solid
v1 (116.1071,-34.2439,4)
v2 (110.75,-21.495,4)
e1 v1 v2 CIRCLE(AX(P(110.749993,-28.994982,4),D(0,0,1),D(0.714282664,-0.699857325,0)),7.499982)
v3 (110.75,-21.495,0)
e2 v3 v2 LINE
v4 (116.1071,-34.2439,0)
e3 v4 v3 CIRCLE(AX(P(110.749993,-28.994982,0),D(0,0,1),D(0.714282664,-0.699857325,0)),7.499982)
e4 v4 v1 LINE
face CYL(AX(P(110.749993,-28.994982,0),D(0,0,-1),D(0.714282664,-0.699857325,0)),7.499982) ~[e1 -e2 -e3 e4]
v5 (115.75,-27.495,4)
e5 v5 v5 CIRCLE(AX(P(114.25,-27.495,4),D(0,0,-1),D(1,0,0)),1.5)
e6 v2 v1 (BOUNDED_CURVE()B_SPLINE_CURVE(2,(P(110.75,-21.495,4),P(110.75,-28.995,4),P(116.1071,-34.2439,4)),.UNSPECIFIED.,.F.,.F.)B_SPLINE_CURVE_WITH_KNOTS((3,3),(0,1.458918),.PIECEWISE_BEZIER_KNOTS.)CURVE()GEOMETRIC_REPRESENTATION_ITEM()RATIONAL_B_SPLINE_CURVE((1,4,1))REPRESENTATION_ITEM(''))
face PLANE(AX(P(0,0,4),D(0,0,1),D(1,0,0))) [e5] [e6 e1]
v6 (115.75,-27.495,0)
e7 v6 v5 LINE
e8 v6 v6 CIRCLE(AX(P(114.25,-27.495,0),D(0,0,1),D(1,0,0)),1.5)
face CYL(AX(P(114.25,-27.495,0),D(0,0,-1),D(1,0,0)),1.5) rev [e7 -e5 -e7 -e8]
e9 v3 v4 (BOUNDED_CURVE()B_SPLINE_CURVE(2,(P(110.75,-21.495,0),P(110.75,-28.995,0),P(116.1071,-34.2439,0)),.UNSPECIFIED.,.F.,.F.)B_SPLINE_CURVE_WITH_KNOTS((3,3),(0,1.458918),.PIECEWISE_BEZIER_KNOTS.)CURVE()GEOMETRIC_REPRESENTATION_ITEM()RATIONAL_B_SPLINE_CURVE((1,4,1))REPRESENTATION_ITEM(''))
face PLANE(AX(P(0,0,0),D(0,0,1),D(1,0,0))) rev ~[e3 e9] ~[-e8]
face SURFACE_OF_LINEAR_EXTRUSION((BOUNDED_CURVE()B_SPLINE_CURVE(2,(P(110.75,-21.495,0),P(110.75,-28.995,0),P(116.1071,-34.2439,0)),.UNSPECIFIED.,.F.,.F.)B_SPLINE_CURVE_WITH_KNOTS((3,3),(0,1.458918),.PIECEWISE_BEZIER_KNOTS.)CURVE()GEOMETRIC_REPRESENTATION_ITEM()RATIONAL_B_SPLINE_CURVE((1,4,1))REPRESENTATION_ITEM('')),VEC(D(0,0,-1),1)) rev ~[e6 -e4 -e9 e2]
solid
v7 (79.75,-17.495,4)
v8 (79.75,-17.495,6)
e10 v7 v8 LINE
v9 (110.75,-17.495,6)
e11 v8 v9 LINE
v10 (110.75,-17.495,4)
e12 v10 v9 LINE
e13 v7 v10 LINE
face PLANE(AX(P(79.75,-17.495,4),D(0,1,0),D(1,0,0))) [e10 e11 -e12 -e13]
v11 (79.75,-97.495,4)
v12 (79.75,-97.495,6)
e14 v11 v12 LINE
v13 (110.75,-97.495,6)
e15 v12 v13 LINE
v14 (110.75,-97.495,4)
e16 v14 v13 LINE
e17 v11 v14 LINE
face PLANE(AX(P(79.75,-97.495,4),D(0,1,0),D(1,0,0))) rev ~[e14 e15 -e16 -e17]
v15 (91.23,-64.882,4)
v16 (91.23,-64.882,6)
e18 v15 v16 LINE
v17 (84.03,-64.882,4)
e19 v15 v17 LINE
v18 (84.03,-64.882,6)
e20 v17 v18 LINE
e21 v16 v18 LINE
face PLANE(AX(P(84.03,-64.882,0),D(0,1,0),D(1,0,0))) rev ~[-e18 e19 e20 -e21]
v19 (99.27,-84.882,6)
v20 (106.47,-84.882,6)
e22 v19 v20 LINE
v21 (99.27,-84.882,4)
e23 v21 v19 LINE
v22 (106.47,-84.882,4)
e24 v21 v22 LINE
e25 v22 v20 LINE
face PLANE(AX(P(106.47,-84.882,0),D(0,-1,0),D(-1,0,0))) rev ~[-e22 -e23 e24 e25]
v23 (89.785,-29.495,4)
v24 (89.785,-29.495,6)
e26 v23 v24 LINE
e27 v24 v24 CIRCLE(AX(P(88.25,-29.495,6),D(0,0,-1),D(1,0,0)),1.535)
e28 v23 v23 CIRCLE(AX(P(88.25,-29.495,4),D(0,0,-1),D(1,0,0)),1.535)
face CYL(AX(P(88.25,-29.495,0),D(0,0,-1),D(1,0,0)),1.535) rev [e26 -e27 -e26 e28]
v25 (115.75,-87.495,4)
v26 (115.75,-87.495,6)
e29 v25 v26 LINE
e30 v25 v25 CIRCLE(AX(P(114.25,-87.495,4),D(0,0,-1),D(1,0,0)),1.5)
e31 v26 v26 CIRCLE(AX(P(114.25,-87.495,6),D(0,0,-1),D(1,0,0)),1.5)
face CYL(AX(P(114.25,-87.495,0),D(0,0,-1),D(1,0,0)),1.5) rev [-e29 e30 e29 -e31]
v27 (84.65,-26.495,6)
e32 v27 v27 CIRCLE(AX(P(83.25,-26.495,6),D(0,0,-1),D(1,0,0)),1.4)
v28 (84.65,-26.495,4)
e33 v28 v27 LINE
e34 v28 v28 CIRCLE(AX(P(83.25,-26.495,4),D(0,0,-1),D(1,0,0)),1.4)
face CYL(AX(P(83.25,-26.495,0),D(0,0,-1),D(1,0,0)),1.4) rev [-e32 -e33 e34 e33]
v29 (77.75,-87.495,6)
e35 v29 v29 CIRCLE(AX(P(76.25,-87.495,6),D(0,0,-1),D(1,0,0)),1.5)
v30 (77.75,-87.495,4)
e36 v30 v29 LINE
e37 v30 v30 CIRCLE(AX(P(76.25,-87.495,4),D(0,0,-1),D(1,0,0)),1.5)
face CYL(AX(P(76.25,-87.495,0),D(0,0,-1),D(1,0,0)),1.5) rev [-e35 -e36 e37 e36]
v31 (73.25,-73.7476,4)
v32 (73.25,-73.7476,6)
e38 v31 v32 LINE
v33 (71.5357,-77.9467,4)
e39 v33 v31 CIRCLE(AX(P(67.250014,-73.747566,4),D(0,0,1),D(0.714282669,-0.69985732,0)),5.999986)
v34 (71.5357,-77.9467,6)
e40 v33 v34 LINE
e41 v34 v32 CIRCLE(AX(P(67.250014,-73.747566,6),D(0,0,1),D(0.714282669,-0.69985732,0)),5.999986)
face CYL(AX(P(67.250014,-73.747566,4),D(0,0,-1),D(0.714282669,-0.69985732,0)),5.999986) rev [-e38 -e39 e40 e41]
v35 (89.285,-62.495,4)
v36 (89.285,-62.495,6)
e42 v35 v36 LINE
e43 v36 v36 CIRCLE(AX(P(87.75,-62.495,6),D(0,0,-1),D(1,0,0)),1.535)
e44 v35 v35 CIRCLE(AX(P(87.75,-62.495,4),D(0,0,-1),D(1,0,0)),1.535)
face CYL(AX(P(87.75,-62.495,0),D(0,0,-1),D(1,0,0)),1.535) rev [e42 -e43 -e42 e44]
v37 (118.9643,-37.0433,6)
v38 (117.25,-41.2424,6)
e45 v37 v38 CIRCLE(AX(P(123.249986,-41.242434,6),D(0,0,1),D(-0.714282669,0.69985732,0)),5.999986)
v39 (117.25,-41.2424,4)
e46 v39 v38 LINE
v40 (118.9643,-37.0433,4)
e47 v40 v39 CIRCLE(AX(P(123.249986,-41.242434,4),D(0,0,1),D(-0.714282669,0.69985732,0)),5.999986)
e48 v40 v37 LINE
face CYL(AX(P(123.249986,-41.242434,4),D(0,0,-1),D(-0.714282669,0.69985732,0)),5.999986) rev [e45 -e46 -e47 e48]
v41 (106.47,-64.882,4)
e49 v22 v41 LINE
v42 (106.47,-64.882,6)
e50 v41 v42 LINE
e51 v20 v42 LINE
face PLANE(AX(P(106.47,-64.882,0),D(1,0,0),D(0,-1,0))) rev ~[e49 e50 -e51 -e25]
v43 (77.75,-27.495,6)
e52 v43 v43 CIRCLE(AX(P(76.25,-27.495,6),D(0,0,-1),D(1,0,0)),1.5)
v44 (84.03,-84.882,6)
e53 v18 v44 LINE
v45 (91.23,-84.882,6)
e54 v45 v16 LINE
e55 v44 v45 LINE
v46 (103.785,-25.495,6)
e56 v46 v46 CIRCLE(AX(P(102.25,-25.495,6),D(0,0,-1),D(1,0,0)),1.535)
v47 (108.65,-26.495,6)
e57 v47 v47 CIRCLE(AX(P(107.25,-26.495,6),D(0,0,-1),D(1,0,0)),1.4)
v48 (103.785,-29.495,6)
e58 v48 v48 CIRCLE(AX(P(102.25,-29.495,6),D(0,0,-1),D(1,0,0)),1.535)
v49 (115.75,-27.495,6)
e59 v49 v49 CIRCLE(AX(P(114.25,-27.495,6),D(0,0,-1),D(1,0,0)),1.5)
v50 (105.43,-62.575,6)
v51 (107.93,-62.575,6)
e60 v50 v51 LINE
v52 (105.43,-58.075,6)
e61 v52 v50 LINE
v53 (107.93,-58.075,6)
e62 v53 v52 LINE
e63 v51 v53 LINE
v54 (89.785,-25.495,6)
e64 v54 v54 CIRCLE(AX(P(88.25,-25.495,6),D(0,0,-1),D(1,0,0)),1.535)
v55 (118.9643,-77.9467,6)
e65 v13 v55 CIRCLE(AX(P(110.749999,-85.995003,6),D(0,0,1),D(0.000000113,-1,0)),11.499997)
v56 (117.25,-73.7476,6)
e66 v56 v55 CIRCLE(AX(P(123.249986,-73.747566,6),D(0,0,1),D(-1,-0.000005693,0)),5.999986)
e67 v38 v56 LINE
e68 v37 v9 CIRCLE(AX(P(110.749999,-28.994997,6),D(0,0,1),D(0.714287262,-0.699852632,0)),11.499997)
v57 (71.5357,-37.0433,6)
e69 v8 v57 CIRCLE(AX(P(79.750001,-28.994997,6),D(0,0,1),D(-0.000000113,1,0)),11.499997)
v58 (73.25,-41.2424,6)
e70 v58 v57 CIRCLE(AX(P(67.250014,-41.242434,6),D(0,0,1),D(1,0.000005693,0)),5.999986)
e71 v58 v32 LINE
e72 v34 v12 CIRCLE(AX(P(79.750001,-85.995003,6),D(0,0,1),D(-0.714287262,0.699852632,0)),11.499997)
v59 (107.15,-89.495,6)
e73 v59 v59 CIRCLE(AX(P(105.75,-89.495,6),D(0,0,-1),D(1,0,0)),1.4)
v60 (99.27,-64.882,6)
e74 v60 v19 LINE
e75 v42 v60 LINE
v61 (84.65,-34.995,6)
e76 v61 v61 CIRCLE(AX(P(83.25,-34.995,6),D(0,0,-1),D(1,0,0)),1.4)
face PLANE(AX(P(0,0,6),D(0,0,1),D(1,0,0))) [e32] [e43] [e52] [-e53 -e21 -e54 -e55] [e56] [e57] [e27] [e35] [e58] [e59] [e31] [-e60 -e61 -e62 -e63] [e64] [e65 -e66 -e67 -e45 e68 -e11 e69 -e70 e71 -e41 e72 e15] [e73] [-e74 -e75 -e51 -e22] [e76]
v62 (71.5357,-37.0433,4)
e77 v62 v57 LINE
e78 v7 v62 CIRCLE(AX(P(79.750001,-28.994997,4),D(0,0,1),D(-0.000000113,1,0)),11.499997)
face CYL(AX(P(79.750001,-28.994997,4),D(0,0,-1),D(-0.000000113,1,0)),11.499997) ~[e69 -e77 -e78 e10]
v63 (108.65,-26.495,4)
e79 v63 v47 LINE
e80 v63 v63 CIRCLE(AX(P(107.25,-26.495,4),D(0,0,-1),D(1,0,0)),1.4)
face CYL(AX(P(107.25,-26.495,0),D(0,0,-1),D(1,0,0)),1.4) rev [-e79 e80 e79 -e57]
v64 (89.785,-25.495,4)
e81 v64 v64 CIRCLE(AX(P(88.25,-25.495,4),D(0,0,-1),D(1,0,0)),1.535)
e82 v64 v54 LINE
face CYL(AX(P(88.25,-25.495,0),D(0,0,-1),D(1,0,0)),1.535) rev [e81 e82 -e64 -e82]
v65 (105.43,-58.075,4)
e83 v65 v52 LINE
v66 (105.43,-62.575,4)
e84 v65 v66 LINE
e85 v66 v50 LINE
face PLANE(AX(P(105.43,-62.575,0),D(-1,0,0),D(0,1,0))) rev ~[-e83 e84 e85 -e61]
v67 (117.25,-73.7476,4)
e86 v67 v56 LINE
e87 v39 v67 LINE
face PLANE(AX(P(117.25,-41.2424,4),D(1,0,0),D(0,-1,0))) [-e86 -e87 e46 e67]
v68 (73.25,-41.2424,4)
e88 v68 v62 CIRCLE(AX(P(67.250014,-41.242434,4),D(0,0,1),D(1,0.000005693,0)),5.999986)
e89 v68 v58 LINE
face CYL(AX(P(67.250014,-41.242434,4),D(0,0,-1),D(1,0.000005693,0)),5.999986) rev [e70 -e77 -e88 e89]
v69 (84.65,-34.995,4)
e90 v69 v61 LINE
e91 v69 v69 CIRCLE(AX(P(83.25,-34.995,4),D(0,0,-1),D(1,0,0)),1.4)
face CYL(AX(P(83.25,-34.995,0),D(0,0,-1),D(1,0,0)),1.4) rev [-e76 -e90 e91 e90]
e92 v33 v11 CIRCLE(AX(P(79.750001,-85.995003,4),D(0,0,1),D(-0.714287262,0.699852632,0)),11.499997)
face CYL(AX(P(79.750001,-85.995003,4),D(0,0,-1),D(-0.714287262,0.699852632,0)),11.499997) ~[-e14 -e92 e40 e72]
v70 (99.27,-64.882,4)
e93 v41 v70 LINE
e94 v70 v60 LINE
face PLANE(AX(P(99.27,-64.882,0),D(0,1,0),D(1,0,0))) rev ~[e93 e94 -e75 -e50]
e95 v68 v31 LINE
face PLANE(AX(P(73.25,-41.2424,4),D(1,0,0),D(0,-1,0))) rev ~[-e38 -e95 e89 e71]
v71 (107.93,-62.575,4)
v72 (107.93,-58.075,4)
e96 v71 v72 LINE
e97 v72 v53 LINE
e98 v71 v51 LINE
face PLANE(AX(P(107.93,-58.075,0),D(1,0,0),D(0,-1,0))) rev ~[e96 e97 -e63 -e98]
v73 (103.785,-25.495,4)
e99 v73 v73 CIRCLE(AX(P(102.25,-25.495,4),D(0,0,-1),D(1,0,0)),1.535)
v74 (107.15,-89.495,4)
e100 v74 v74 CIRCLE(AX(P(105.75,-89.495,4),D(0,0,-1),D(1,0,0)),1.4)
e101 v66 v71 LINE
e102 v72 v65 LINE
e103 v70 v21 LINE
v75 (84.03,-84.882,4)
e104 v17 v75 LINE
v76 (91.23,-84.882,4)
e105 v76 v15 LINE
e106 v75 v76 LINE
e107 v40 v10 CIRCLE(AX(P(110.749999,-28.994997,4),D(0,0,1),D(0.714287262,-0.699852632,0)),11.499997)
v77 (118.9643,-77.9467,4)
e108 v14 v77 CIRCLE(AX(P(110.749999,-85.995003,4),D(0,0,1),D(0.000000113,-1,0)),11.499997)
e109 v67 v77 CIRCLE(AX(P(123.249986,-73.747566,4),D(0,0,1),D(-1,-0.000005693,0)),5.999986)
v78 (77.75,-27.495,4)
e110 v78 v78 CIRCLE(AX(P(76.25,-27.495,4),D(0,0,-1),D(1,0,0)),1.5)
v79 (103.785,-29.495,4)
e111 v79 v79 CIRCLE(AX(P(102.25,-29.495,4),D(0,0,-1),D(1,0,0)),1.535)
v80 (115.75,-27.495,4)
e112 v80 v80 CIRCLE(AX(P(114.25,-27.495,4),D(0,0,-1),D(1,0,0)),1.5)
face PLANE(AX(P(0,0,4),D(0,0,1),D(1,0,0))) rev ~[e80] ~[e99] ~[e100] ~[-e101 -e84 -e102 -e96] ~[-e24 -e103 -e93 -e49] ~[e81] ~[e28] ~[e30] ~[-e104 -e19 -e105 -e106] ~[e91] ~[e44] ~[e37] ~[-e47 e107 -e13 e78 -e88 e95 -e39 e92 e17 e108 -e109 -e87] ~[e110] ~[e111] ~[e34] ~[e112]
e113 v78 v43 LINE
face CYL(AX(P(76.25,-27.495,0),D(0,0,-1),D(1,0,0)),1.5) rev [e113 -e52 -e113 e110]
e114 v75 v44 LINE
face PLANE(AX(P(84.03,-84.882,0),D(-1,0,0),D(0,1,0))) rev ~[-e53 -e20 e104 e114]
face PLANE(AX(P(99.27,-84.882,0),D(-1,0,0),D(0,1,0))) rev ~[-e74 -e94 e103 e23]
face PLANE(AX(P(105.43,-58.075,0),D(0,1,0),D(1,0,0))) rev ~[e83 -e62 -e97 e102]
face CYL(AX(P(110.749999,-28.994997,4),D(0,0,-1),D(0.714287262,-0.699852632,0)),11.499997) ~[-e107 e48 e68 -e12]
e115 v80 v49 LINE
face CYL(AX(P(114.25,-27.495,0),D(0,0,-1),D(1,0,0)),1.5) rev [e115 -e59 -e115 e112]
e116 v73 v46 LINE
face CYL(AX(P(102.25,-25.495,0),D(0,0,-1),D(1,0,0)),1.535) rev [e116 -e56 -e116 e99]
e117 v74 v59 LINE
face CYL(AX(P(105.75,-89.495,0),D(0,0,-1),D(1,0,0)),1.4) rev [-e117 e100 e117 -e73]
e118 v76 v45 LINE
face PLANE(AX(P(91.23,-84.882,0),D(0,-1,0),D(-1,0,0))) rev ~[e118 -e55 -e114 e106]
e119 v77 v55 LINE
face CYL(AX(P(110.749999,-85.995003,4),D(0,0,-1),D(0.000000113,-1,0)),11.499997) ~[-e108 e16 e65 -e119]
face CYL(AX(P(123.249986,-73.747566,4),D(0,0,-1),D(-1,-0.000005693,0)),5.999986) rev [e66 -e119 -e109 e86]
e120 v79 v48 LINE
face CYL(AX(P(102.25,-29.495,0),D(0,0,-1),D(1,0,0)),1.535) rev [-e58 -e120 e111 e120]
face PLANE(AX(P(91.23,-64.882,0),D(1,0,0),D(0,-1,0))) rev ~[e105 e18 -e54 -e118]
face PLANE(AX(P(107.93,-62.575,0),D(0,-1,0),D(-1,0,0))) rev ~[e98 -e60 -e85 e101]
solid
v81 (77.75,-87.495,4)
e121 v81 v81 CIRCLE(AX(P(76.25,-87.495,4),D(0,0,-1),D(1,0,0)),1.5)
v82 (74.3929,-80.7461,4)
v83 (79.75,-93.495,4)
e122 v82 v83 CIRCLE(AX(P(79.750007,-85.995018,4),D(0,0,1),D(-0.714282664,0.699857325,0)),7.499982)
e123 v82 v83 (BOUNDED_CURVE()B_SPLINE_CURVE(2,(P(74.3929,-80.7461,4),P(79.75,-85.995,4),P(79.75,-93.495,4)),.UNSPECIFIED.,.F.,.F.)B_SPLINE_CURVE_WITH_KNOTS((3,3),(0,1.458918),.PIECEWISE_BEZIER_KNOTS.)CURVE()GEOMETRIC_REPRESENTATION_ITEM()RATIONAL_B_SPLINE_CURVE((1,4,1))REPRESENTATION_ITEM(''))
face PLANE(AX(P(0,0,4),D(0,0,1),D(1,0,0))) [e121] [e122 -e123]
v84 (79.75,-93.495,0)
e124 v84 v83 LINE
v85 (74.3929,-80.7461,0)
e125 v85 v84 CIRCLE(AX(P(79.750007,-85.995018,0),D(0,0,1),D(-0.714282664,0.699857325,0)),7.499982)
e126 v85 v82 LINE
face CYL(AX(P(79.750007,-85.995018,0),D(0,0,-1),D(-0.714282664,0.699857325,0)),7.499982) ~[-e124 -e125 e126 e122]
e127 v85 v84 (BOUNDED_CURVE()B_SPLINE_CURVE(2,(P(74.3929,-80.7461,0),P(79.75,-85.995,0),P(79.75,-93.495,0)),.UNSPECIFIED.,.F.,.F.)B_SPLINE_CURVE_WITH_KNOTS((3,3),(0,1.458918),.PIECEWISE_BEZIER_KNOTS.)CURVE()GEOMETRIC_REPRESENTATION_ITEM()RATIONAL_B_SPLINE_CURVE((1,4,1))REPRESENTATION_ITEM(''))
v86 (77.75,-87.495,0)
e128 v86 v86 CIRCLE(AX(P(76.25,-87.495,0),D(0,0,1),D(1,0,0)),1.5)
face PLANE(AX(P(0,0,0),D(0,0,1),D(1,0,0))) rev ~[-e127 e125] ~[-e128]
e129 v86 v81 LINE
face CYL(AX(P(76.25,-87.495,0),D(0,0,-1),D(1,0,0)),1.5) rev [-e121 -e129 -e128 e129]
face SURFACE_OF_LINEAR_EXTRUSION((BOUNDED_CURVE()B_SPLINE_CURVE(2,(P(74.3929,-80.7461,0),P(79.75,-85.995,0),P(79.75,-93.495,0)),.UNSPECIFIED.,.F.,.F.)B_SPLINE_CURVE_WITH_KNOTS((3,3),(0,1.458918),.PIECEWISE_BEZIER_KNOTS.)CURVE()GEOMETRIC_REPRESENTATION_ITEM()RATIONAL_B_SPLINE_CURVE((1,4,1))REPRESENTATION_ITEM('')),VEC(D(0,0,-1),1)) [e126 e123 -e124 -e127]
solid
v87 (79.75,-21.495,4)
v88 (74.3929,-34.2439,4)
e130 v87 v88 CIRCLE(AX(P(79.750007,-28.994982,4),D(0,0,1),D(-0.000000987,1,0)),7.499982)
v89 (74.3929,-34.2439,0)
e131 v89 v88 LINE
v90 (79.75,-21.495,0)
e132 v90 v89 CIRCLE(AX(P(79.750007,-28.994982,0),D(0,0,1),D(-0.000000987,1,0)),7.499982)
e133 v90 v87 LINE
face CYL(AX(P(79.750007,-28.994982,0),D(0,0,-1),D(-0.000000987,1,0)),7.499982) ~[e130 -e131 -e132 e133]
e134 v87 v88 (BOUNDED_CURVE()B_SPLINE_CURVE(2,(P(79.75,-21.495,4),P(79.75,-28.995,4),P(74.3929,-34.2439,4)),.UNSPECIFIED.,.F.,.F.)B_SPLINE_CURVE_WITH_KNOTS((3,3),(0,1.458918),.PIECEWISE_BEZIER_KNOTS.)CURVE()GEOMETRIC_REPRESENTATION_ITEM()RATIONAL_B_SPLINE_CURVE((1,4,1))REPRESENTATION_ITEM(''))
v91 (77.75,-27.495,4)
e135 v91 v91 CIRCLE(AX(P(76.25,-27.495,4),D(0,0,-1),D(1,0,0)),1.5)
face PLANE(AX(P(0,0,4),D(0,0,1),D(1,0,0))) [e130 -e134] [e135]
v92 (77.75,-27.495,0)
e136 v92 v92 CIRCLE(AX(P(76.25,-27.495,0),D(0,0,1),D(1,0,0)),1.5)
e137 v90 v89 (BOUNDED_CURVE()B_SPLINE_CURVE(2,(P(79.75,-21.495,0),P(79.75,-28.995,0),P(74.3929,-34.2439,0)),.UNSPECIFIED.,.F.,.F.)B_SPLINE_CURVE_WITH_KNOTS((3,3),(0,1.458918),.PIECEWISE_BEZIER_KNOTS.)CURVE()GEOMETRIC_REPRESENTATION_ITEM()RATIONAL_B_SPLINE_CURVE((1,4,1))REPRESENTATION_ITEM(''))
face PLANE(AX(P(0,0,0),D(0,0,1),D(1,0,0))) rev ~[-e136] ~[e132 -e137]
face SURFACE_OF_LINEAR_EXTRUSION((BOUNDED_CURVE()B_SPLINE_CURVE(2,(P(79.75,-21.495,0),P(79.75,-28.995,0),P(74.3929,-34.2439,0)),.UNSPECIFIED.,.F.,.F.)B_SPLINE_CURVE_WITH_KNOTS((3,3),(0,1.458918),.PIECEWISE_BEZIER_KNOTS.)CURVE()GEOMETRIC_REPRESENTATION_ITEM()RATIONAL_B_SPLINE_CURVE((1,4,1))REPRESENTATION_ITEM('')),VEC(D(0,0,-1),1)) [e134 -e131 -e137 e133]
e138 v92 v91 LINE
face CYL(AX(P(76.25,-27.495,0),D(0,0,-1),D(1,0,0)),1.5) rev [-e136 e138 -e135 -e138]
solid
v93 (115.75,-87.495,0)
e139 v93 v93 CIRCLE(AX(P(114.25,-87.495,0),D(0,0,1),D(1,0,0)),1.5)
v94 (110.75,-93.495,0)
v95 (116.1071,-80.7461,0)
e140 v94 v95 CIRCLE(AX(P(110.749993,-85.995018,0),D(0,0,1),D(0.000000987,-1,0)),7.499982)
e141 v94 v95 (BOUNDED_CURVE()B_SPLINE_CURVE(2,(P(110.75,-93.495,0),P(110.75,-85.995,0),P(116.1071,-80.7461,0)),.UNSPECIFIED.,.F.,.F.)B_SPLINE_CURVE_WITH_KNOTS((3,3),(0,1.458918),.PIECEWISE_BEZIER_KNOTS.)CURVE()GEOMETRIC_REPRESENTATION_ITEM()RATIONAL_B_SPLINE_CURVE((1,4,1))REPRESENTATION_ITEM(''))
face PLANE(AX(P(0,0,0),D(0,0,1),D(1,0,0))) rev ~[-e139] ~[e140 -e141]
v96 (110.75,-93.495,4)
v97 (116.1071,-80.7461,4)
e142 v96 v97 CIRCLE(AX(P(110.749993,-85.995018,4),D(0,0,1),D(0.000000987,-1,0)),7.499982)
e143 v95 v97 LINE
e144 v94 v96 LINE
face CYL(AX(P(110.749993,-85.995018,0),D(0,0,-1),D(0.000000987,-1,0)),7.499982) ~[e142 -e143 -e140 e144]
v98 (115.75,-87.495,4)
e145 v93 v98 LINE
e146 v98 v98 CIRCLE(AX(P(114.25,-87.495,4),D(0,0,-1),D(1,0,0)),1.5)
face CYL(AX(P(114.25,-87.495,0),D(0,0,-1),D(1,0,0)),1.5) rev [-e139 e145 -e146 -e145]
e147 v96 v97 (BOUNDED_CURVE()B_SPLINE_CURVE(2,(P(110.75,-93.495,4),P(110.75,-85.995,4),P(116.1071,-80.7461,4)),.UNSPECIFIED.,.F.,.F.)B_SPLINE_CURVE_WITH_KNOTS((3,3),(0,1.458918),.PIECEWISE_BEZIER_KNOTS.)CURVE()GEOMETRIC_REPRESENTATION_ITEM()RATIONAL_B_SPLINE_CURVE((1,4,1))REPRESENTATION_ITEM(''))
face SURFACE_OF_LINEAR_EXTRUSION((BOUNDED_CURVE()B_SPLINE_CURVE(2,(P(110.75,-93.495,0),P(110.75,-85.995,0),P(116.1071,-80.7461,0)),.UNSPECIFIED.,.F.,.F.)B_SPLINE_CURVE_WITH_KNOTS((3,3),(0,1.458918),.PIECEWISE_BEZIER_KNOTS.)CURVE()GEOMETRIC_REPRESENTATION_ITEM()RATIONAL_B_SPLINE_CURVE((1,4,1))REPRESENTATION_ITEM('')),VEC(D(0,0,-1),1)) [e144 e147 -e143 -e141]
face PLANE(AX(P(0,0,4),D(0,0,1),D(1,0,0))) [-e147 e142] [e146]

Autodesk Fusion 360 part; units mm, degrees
sketch "drawing" plane through (0, 0, 0) normal (0, 0, 1) x (1, 0, 0)
  circle A0 centre (76.25, -27.495) radius 1.5
  circle A1 centre (114.25, -27.495) radius 1.5
  circle A2 centre (76.25, -87.495) radius 1.5
  circle A3 centre (114.25, -87.495) radius 1.5
  line L0 (79.75, -21.495) -> (110.75, -21.495)
  line L1 (79.75, -93.495) -> (110.75, -93.495)
  line L2 (77.25, -41.2424) -> (77.25, -73.7476)
  line L3 (113.25, -41.2424) -> (113.25, -73.7476)
  arc A4 (79.75, -21.495) -> (74.3929, -34.2439) centre (79.75, -28.995) ccw
  arc A5 (116.1071, -34.2439) -> (110.75, -21.495) centre (110.75, -28.995) ccw
  arc A6 (74.3929, -80.7461) -> (79.75, -93.495) centre (79.75, -85.995) ccw
  arc A7 (110.75, -93.495) -> (116.1071, -80.7461) centre (110.75, -85.995) ccw
  circle A8 centre (76.25, -27.495) radius 3
  circle A9 centre (114.25, -27.495) radius 3
  circle A10 centre (76.25, -87.495) radius 3
  circle A11 centre (114.25, -87.495) radius 3
  line L4 (72.25, -21.495) -> (72.25, -93.495) construction
  line L5 (118.25, -21.495) -> (118.25, -93.495) construction
  circle A12 centre (88.25, -25.495) radius 1.535
  circle A13 centre (88.25, -29.495) radius 1.535
  circle A14 centre (83.25, -26.495) radius 1.4
  circle A15 centre (83.25, -34.995) radius 1.4
  line L6 (95.25, -21.495) -> (95.25, -93.495) construction
  line L7 (90.75, -21.495) -> (99.75, -21.495) construction
  line L8 (99.75, -21.495) -> (99.75, -28.995) construction
  line L9 (99.75, -28.995) -> (90.75, -28.995) construction
  line L10 (90.75, -28.995) -> (90.75, -21.495) construction
  circle A16 centre (106.68, -60.325) radius 0.25 construction
  line L11 (104.93, -55.8) -> (108.43, -55.8) construction
  line L12 (108.43, -55.8) -> (108.43, -64.85) construction
  line L13 (108.43, -64.85) -> (104.93, -64.85) construction
  line L14 (104.93, -64.85) -> (104.93, -55.8) construction
  arc A17 (77.25, -41.2424) -> (74.3929, -34.2439) centre (67.25, -41.2424) ccw
  line L15 (79.75, -28.995) -> (79.75, -21.495) construction
  line L16 (79.75, -28.995) -> (74.3929, -34.2439) construction
  line L17 (67.25, -41.2424) -> (77.25, -41.2424) construction
  line L18 (67.25, -41.2424) -> (74.3929, -34.2439) construction
  arc A18 (116.1071, -34.2439) -> (113.25, -41.2424) centre (123.25, -41.2424) ccw
  arc A19 (74.3929, -80.7461) -> (77.25, -73.7476) centre (67.25, -73.7476) ccw
  arc A20 (113.25, -73.7476) -> (116.1071, -80.7461) centre (123.25, -73.7476) ccw
  circle A21 centre (102.25, -25.495) radius 1.535
  circle A22 centre (102.25, -29.495) radius 1.535
  circle A23 centre (87.75, -62.495) radius 1.535
  line L19 (105.43, -58.075) -> (107.93, -58.075)
  line L20 (107.93, -58.075) -> (107.93, -62.575)
  line L21 (107.93, -62.575) -> (105.43, -62.575)
  line L22 (105.43, -62.575) -> (105.43, -58.075)
  line L23 (105.93, -60.575) -> (107.43, -60.575) construction
  line L24 (107.43, -60.575) -> (107.43, -62.075) construction
  line L25 (107.43, -62.075) -> (105.93, -62.075) construction
  line L26 (105.93, -62.075) -> (105.93, -60.575) construction
  line L27 (105.93, -58.575) -> (107.43, -58.575) construction
  line L28 (107.43, -58.575) -> (107.43, -60.075) construction
  line L29 (107.43, -60.075) -> (105.93, -60.075) construction
  line L30 (105.93, -60.075) -> (105.93, -58.575) construction
  line L31 (106.68, -60.075) -> (106.68, -60.575) construction
  line L32 (81, -24.245) -> (85.5, -24.245) construction
  line L33 (85.5, -24.245) -> (85.5, -28.745) construction
  line L34 (85.5, -28.745) -> (81, -28.745) construction
  line L35 (81, -28.745) -> (81, -24.245) construction
  circle A24 centre (88.25, -25.495) radius 1.9 construction
  circle A25 centre (88.25, -29.495) radius 1.9 construction
  circle A26 centre (102.25, -25.495) radius 1.9 construction
  circle A27 centre (102.25, -29.495) radius 1.9 construction
  circle A28 centre (87.75, -62.495) radius 1.9 construction
  line L36 (81, -32.745) -> (85.5, -32.745) construction
  line L37 (85.5, -32.745) -> (85.5, -37.245) construction
  line L38 (85.5, -37.245) -> (81, -37.245) construction
  line L39 (81, -37.245) -> (81, -32.745) construction
  circle A29 centre (107.25, -26.495) radius 1.4
  line L40 (105, -24.245) -> (109.5, -24.245) construction
  line L41 (109.5, -24.245) -> (109.5, -28.745) construction
  line L42 (109.5, -28.745) -> (105, -28.745) construction
  line L43 (105, -28.745) -> (105, -24.245) construction
  circle A30 centre (105.75, -89.495) radius 1.4
  line L44 (103.5, -87.245) -> (108, -87.245) construction
  line L45 (108, -87.245) -> (108, -91.745) construction
  line L46 (108, -91.745) -> (103.5, -91.745) construction
  line L47 (103.5, -91.745) -> (103.5, -87.245) construction
  line L48 (85.03, -65.882) -> (90.23, -65.882) construction
  line L49 (90.23, -65.882) -> (90.23, -83.882) construction
  line L50 (90.23, -83.882) -> (85.03, -83.882) construction
  line L51 (85.03, -83.882) -> (85.03, -65.882) construction
  line L52 (100.27, -65.882) -> (105.47, -65.882) construction
  line L53 (105.47, -65.882) -> (105.47, -83.882) construction
  line L54 (105.47, -83.882) -> (100.27, -83.882) construction
  line L55 (100.27, -83.882) -> (100.27, -65.882) construction
  line L56 (91.23, -64.882) -> (91.23, -84.882)
  line L57 (91.23, -84.882) -> (84.03, -84.882)
  line L58 (84.03, -84.882) -> (84.03, -64.882)
  line L59 (84.03, -64.882) -> (91.23, -64.882)
  line L60 (106.47, -84.882) -> (99.27, -84.882)
  line L61 (99.27, -84.882) -> (99.27, -64.882)
  line L62 (99.27, -64.882) -> (106.47, -64.882)
  line L63 (106.47, -64.882) -> (106.47, -84.882)
  point P0 (87.63, -74.882)
  point P1 (102.87, -74.882)
  dimension "d1" = 76.25
  dimension "d2" = 3
  dimension "d3" = 27.495
  dimension "d4" = 3
  dimension "d5" = 38
  dimension "d6" = 27.495
  dimension "d7" = 1.5
  dimension "d8" = 3.5
  dimension "d9" = 15
  dimension "d10" = 3.5
  dimension "d11" = 1.5
  dimension "d12" = 15
  dimension "d13" = 60
  dimension "d14" = 3
  dimension "d15" = 76.25
  dimension "d16" = 38
  dimension "d17" = 60
  dimension "d18" = 3
  dimension "d19" = 3.5
  dimension "d20" = 1.5
  dimension "d21" = 3.5
  dimension "d22" = 1.5
  dimension "d23" = 15
  dimension "d24" = 15
  dimension "d31" = 6
  dimension "d32" = 6
  dimension "d33" = 6
  dimension "d34" = 6
  dimension "d35" = 72
  dimension "d36" = 46
  dimension "d37" = 6
  dimension "d38" = 5
  dimension "d39" = 5
  dimension "d40" = 4
  dimension "d41" = 4
  dimension "d42" = 12
  dimension "d43" = 2
  dimension "d44" = 3.07
  dimension "d45" = 4
  dimension "d46" = 3.07
  dimension "d47" = 7
  dimension "d48" = 1
  dimension "d49" = 2.8
  dimension "d50" = 2.8
  dimension "d51" = 8.5
  dimension "d52" = 19
  dimension "d53" = 4.5
  dimension "d54" = 4.5
  dimension "d55" = 7.5
  dimension "d56" = 106.68
  dimension "d57" = 60.325
  dimension "d58" = 0.5
  dimension "d59" = 4.525
  dimension "d62" = 1.75
  dimension "d75" = 20
  dimension "d76" = 134.415
  dimension "d77" = 44.415
  dimension "d78" = 20
  dimension "d79" = 20
  dimension "d80" = 20
  dimension "d92" = 3.07
  dimension "d93" = 3.07
  dimension "d94" = 14
  dimension "d95" = 3.07
  dimension "d96" = 33
  dimension "d97" = 0.5
  dimension "d98" = 1.25
  dimension "d100" = 1.5
  dimension "d101" = 0.75
  dimension "d102" = 1.5
  dimension "d103" = 0.75
  dimension "d104" = 3.5
  dimension "d105" = 0.5
  dimension "d106" = 1.5
  dimension "d107" = 3.5
  dimension "d108" = 9.05
  dimension "d109" = 2.25
  dimension "d110" = 2.25
  dimension "d111" = 2.5
  dimension "d112" = 0.5
  dimension "d113" = 0.5
  dimension "d114" = 2.25
  dimension "d115" = 4.5
  dimension "d116" = 4.5
  dimension "d117" = 2.25
  dimension "d118" = 3.8
  dimension "d119" = 3.8
  dimension "d120" = 3.8
  dimension "d121" = 3.8
  dimension "d122" = 3.8
  dimension "d123" = 4.5
  dimension "d124" = 4.5
  dimension "d125" = 2.25
  dimension "d126" = 2.25
  dimension "d127" = 5
  dimension "d128" = 2.8
  dimension "d129" = 2.25
  dimension "d130" = 2.25
  dimension "d131" = 4.5
  dimension "d132" = 4.5
  dimension "d133" = 105.75
  dimension "d134" = 89.495
  dimension "d135" = 2.8
  dimension "d136" = 4.5
  dimension "d137" = 4.5
  dimension "d138" = 2.25
  dimension "d139" = 2.25
  dimension "d140" = 4
  dimension "d141" = 12.5
  dimension "d142" = 18
  dimension "d143" = 18
  dimension "d144" = 5.2
  dimension "d145" = 5.2
  dimension "d146" = 102.87
  dimension "d147" = 87.63
  dimension "d148" = 74.882
  dimension "d149" = 2.6
  dimension "d150" = 2.6
  dimension "d151" = 9
  dimension "d152" = 9
  dimension "d153" = -1
  dimension "d154" = -1
sketch "board_cutout" plane through (0, 0, 0) normal (0, 0, 1) x (1, 0, 0)
  circle A0 centre (76.25, -27.495) radius 1.5
  circle A1 centre (114.25, -27.495) radius 1.5
  circle A2 centre (76.25, -87.495) radius 1.5
  circle A3 centre (114.25, -87.495) radius 1.5
  line L0 (79.75, -21.495) -> (110.75, -21.495)
  arc A4 (79.75, -21.495) -> (74.3929, -34.2439) centre (79.75, -28.995) ccw
  arc A5 (77.25, -41.2424) -> (74.3929, -34.2439) centre (67.25, -41.2424) ccw
  line L1 (77.25, -41.2424) -> (77.25, -73.7476)
  arc A6 (74.3929, -80.7461) -> (77.25, -73.7476) centre (67.25, -73.7476) ccw
  arc A7 (74.3929, -80.7461) -> (79.75, -93.495) centre (79.75, -85.995) ccw
  line L2 (79.75, -93.495) -> (110.75, -93.495)
  arc A8 (110.75, -93.495) -> (116.1071, -80.7461) centre (110.75, -85.995) ccw
  arc A9 (113.25, -73.7476) -> (116.1071, -80.7461) centre (123.25, -73.7476) ccw
  line L3 (113.25, -41.2424) -> (113.25, -73.7476)
  arc A10 (116.1071, -34.2439) -> (113.25, -41.2424) centre (123.25, -41.2424) ccw
  arc A11 (116.1071, -34.2439) -> (110.75, -21.495) centre (110.75, -28.995) ccw
sketch "board_cutout_4mm_offset" plane through (0, 0, 0) normal (0, 0, 1) x (1, 0, 0)
  line L0 (79.75, -21.495) -> (110.75, -21.495) construction
  arc A0 (79.75, -21.495) -> (74.3929, -34.2439) centre (79.75, -28.995) ccw construction
  arc A1 (77.25, -41.2424) -> (74.3929, -34.2439) centre (67.25, -41.2424) ccw construction
  line L1 (77.25, -41.2424) -> (77.25, -73.7476) construction
  arc A2 (74.3929, -80.7461) -> (77.25, -73.7476) centre (67.25, -73.7476) ccw construction
  arc A3 (74.3929, -80.7461) -> (79.75, -93.495) centre (79.75, -85.995) ccw construction
  line L2 (79.75, -93.495) -> (110.75, -93.495) construction
  arc A4 (110.75, -93.495) -> (116.1071, -80.7461) centre (110.75, -85.995) ccw construction
  arc A5 (113.25, -73.7476) -> (116.1071, -80.7461) centre (123.25, -73.7476) ccw construction
  line L3 (113.25, -41.2424) -> (113.25, -73.7476) construction
  arc A6 (116.1071, -34.2439) -> (113.25, -41.2424) centre (123.25, -41.2424) ccw construction
  arc A7 (116.1071, -34.2439) -> (110.75, -21.495) centre (110.75, -28.995) ccw construction
  arc A8 (117.25, -73.7476) -> (118.9643, -77.9467) centre (123.25, -73.7476) ccw
  arc A9 (110.75, -97.495) -> (118.9643, -77.9467) centre (110.75, -85.995) ccw
  line L4 (79.75, -97.495) -> (110.75, -97.495)
  arc A10 (71.5357, -77.9467) -> (79.75, -97.495) centre (79.75, -85.995) ccw
  arc A11 (71.5357, -77.9467) -> (73.25, -73.7476) centre (67.25, -73.7476) ccw
  line L5 (73.25, -41.2424) -> (73.25, -73.7476)
  arc A12 (73.25, -41.2424) -> (71.5357, -37.0433) centre (67.25, -41.2424) ccw
  arc A13 (79.75, -17.495) -> (71.5357, -37.0433) centre (79.75, -28.995) ccw
  line L6 (79.75, -17.495) -> (110.75, -17.495)
  arc A14 (118.9643, -37.0433) -> (110.75, -17.495) centre (110.75, -28.995) ccw
  arc A15 (118.9643, -37.0433) -> (117.25, -41.2424) centre (123.25, -41.2424) ccw
  line L7 (117.25, -41.2424) -> (117.25, -73.7476)
  dimension "d81" = -4
sketch "pillars" plane through (0, 0, 0) normal (0, 0, 1) x (1, 0, 0)
  arc A0 (79.75, -21.495) -> (74.3929, -34.2439) centre (79.75, -28.995) ccw
  arc A1 (77.25, -41.2424) -> (74.3929, -34.2439) centre (67.25, -41.2424) ccw construction
  line L0 (77.25, -41.2424) -> (77.25, -73.7476) construction
  arc A2 (74.3929, -80.7461) -> (77.25, -73.7476) centre (67.25, -73.7476) ccw construction
  arc A3 (74.3929, -80.7461) -> (79.75, -93.495) centre (79.75, -85.995) ccw
  line L1 (79.75, -93.495) -> (110.75, -93.495) construction
  arc A4 (110.75, -93.495) -> (116.1071, -80.7461) centre (110.75, -85.995) ccw
  arc A5 (113.25, -73.7476) -> (116.1071, -80.7461) centre (123.25, -73.7476) ccw construction
  line L2 (113.25, -41.2424) -> (113.25, -73.7476) construction
  arc A6 (116.1071, -34.2439) -> (113.25, -41.2424) centre (123.25, -41.2424) ccw construction
  arc A7 (116.1071, -34.2439) -> (110.75, -21.495) centre (110.75, -28.995) ccw
  line L3 (79.75, -21.495) -> (110.75, -21.495) construction
  circle A8 centre (76.25, -27.495) radius 1.5 construction
  circle A9 centre (114.25, -27.495) radius 1.5 construction
  circle A10 centre (76.25, -27.495) radius 3 construction
  circle A11 centre (114.25, -27.495) radius 3 construction
  circle A12 centre (76.25, -87.495) radius 1.5 construction
  circle A13 centre (76.25, -87.495) radius 3 construction
  circle A14 centre (114.25, -87.495) radius 1.5 construction
  circle A15 centre (114.25, -87.495) radius 3 construction
  spline S0 degree 2 poles (79.75, -21.495) (79.75, -28.995) (74.3929, -34.2439) knots 0 0 0 1.458918 1.458918 1.458918 weights 1 4 1
  spline S1 degree 2 poles (110.75, -21.495) (110.75, -28.995) (116.1071, -34.2439) knots 0 0 0 1.458918 1.458918 1.458918 weights 1 4 1
  spline S2 degree 2 poles (74.3929, -80.7461) (79.75, -85.995) (79.75, -93.495) knots 0 0 0 1.458918 1.458918 1.458918 weights 1 4 1
  spline S3 degree 2 poles (110.75, -93.495) (110.75, -85.995) (116.1071, -80.7461) knots 0 0 0 1.458918 1.458918 1.458918 weights 1 4 1
sketch "srew_holes" plane through (0, 0, 0) normal (0, 0, 1) x (1, 0, 0)
  circle A0 centre (76.25, -27.495) radius 1.5
  circle A1 centre (114.25, -27.495) radius 1.5
  circle A2 centre (76.25, -87.495) radius 1.5
  circle A3 centre (114.25, -87.495) radius 1.5
extrude "Extrude5" add sketch "pillars" along normal blind 4 makes body 1 at (116.0352, -23.6737, 2.6667) makes body 2 at (118.1619, -87.1412, 2.6667) makes body 3 at (72.9424, -32.1424, 2.6667) makes body 4 at (72.403, -87.5019, 2.6667)
extrude "Extrude6" add sketch "board_cutout_4mm_offset" along normal blind 2 from surface at 4 separate body makes body 5
extrude "Extrude7" cut sketch "srew_holes" along normal through all bodies 1 2 3 4 5
sketch "led_cutouts" plane through (0, 0, 0) normal (0, 0, 1) x (1, 0, 0)
  circle A0 centre (88.25, -25.495) radius 1.535
  circle A1 centre (88.25, -29.495) radius 1.535
  circle A2 centre (102.25, -25.495) radius 1.535
  circle A3 centre (102.25, -29.495) radius 1.535
  circle A4 centre (87.75, -62.495) radius 1.535
sketch "button_cutouts" plane through (0, 0, 0) normal (0, 0, 1) x (1, 0, 0)
  circle A0 centre (83.25, -26.495) radius 1.4
  circle A1 centre (83.25, -34.995) radius 1.4
  circle A2 centre (107.25, -26.495) radius 1.4
  circle A3 centre (105.75, -89.495) radius 1.4
  line L0 (105.43, -58.075) -> (107.93, -58.075)
  line L1 (105.43, -62.575) -> (105.43, -58.075)
  line L2 (107.93, -62.575) -> (105.43, -62.575)
  line L3 (107.93, -58.075) -> (107.93, -62.575)
sketch "pinheader_cutouts" plane through (0, 0, 0) normal (0, 0, 1) x (1, 0, 0)
  line L0 (91.23, -84.882) -> (84.03, -84.882)
  line L1 (84.03, -84.882) -> (84.03, -64.882)
  line L2 (84.03, -64.882) -> (91.23, -64.882)
  line L3 (91.23, -64.882) -> (91.23, -84.882)
  line L4 (99.27, -64.882) -> (106.47, -64.882)
  line L5 (99.27, -84.882) -> (99.27, -64.882)
  line L6 (106.47, -84.882) -> (99.27, -84.882)
  line L7 (106.47, -64.882) -> (106.47, -84.882)
extrude "Extrude8" cut sketch "led_cutouts" along normal through all bodies 5
extrude "Extrude9" cut sketch "button_cutouts" along normal through all bodies 5
extrude "Extrude10" cut sketch "pinheader_cutouts" along normal through all bodies 5
